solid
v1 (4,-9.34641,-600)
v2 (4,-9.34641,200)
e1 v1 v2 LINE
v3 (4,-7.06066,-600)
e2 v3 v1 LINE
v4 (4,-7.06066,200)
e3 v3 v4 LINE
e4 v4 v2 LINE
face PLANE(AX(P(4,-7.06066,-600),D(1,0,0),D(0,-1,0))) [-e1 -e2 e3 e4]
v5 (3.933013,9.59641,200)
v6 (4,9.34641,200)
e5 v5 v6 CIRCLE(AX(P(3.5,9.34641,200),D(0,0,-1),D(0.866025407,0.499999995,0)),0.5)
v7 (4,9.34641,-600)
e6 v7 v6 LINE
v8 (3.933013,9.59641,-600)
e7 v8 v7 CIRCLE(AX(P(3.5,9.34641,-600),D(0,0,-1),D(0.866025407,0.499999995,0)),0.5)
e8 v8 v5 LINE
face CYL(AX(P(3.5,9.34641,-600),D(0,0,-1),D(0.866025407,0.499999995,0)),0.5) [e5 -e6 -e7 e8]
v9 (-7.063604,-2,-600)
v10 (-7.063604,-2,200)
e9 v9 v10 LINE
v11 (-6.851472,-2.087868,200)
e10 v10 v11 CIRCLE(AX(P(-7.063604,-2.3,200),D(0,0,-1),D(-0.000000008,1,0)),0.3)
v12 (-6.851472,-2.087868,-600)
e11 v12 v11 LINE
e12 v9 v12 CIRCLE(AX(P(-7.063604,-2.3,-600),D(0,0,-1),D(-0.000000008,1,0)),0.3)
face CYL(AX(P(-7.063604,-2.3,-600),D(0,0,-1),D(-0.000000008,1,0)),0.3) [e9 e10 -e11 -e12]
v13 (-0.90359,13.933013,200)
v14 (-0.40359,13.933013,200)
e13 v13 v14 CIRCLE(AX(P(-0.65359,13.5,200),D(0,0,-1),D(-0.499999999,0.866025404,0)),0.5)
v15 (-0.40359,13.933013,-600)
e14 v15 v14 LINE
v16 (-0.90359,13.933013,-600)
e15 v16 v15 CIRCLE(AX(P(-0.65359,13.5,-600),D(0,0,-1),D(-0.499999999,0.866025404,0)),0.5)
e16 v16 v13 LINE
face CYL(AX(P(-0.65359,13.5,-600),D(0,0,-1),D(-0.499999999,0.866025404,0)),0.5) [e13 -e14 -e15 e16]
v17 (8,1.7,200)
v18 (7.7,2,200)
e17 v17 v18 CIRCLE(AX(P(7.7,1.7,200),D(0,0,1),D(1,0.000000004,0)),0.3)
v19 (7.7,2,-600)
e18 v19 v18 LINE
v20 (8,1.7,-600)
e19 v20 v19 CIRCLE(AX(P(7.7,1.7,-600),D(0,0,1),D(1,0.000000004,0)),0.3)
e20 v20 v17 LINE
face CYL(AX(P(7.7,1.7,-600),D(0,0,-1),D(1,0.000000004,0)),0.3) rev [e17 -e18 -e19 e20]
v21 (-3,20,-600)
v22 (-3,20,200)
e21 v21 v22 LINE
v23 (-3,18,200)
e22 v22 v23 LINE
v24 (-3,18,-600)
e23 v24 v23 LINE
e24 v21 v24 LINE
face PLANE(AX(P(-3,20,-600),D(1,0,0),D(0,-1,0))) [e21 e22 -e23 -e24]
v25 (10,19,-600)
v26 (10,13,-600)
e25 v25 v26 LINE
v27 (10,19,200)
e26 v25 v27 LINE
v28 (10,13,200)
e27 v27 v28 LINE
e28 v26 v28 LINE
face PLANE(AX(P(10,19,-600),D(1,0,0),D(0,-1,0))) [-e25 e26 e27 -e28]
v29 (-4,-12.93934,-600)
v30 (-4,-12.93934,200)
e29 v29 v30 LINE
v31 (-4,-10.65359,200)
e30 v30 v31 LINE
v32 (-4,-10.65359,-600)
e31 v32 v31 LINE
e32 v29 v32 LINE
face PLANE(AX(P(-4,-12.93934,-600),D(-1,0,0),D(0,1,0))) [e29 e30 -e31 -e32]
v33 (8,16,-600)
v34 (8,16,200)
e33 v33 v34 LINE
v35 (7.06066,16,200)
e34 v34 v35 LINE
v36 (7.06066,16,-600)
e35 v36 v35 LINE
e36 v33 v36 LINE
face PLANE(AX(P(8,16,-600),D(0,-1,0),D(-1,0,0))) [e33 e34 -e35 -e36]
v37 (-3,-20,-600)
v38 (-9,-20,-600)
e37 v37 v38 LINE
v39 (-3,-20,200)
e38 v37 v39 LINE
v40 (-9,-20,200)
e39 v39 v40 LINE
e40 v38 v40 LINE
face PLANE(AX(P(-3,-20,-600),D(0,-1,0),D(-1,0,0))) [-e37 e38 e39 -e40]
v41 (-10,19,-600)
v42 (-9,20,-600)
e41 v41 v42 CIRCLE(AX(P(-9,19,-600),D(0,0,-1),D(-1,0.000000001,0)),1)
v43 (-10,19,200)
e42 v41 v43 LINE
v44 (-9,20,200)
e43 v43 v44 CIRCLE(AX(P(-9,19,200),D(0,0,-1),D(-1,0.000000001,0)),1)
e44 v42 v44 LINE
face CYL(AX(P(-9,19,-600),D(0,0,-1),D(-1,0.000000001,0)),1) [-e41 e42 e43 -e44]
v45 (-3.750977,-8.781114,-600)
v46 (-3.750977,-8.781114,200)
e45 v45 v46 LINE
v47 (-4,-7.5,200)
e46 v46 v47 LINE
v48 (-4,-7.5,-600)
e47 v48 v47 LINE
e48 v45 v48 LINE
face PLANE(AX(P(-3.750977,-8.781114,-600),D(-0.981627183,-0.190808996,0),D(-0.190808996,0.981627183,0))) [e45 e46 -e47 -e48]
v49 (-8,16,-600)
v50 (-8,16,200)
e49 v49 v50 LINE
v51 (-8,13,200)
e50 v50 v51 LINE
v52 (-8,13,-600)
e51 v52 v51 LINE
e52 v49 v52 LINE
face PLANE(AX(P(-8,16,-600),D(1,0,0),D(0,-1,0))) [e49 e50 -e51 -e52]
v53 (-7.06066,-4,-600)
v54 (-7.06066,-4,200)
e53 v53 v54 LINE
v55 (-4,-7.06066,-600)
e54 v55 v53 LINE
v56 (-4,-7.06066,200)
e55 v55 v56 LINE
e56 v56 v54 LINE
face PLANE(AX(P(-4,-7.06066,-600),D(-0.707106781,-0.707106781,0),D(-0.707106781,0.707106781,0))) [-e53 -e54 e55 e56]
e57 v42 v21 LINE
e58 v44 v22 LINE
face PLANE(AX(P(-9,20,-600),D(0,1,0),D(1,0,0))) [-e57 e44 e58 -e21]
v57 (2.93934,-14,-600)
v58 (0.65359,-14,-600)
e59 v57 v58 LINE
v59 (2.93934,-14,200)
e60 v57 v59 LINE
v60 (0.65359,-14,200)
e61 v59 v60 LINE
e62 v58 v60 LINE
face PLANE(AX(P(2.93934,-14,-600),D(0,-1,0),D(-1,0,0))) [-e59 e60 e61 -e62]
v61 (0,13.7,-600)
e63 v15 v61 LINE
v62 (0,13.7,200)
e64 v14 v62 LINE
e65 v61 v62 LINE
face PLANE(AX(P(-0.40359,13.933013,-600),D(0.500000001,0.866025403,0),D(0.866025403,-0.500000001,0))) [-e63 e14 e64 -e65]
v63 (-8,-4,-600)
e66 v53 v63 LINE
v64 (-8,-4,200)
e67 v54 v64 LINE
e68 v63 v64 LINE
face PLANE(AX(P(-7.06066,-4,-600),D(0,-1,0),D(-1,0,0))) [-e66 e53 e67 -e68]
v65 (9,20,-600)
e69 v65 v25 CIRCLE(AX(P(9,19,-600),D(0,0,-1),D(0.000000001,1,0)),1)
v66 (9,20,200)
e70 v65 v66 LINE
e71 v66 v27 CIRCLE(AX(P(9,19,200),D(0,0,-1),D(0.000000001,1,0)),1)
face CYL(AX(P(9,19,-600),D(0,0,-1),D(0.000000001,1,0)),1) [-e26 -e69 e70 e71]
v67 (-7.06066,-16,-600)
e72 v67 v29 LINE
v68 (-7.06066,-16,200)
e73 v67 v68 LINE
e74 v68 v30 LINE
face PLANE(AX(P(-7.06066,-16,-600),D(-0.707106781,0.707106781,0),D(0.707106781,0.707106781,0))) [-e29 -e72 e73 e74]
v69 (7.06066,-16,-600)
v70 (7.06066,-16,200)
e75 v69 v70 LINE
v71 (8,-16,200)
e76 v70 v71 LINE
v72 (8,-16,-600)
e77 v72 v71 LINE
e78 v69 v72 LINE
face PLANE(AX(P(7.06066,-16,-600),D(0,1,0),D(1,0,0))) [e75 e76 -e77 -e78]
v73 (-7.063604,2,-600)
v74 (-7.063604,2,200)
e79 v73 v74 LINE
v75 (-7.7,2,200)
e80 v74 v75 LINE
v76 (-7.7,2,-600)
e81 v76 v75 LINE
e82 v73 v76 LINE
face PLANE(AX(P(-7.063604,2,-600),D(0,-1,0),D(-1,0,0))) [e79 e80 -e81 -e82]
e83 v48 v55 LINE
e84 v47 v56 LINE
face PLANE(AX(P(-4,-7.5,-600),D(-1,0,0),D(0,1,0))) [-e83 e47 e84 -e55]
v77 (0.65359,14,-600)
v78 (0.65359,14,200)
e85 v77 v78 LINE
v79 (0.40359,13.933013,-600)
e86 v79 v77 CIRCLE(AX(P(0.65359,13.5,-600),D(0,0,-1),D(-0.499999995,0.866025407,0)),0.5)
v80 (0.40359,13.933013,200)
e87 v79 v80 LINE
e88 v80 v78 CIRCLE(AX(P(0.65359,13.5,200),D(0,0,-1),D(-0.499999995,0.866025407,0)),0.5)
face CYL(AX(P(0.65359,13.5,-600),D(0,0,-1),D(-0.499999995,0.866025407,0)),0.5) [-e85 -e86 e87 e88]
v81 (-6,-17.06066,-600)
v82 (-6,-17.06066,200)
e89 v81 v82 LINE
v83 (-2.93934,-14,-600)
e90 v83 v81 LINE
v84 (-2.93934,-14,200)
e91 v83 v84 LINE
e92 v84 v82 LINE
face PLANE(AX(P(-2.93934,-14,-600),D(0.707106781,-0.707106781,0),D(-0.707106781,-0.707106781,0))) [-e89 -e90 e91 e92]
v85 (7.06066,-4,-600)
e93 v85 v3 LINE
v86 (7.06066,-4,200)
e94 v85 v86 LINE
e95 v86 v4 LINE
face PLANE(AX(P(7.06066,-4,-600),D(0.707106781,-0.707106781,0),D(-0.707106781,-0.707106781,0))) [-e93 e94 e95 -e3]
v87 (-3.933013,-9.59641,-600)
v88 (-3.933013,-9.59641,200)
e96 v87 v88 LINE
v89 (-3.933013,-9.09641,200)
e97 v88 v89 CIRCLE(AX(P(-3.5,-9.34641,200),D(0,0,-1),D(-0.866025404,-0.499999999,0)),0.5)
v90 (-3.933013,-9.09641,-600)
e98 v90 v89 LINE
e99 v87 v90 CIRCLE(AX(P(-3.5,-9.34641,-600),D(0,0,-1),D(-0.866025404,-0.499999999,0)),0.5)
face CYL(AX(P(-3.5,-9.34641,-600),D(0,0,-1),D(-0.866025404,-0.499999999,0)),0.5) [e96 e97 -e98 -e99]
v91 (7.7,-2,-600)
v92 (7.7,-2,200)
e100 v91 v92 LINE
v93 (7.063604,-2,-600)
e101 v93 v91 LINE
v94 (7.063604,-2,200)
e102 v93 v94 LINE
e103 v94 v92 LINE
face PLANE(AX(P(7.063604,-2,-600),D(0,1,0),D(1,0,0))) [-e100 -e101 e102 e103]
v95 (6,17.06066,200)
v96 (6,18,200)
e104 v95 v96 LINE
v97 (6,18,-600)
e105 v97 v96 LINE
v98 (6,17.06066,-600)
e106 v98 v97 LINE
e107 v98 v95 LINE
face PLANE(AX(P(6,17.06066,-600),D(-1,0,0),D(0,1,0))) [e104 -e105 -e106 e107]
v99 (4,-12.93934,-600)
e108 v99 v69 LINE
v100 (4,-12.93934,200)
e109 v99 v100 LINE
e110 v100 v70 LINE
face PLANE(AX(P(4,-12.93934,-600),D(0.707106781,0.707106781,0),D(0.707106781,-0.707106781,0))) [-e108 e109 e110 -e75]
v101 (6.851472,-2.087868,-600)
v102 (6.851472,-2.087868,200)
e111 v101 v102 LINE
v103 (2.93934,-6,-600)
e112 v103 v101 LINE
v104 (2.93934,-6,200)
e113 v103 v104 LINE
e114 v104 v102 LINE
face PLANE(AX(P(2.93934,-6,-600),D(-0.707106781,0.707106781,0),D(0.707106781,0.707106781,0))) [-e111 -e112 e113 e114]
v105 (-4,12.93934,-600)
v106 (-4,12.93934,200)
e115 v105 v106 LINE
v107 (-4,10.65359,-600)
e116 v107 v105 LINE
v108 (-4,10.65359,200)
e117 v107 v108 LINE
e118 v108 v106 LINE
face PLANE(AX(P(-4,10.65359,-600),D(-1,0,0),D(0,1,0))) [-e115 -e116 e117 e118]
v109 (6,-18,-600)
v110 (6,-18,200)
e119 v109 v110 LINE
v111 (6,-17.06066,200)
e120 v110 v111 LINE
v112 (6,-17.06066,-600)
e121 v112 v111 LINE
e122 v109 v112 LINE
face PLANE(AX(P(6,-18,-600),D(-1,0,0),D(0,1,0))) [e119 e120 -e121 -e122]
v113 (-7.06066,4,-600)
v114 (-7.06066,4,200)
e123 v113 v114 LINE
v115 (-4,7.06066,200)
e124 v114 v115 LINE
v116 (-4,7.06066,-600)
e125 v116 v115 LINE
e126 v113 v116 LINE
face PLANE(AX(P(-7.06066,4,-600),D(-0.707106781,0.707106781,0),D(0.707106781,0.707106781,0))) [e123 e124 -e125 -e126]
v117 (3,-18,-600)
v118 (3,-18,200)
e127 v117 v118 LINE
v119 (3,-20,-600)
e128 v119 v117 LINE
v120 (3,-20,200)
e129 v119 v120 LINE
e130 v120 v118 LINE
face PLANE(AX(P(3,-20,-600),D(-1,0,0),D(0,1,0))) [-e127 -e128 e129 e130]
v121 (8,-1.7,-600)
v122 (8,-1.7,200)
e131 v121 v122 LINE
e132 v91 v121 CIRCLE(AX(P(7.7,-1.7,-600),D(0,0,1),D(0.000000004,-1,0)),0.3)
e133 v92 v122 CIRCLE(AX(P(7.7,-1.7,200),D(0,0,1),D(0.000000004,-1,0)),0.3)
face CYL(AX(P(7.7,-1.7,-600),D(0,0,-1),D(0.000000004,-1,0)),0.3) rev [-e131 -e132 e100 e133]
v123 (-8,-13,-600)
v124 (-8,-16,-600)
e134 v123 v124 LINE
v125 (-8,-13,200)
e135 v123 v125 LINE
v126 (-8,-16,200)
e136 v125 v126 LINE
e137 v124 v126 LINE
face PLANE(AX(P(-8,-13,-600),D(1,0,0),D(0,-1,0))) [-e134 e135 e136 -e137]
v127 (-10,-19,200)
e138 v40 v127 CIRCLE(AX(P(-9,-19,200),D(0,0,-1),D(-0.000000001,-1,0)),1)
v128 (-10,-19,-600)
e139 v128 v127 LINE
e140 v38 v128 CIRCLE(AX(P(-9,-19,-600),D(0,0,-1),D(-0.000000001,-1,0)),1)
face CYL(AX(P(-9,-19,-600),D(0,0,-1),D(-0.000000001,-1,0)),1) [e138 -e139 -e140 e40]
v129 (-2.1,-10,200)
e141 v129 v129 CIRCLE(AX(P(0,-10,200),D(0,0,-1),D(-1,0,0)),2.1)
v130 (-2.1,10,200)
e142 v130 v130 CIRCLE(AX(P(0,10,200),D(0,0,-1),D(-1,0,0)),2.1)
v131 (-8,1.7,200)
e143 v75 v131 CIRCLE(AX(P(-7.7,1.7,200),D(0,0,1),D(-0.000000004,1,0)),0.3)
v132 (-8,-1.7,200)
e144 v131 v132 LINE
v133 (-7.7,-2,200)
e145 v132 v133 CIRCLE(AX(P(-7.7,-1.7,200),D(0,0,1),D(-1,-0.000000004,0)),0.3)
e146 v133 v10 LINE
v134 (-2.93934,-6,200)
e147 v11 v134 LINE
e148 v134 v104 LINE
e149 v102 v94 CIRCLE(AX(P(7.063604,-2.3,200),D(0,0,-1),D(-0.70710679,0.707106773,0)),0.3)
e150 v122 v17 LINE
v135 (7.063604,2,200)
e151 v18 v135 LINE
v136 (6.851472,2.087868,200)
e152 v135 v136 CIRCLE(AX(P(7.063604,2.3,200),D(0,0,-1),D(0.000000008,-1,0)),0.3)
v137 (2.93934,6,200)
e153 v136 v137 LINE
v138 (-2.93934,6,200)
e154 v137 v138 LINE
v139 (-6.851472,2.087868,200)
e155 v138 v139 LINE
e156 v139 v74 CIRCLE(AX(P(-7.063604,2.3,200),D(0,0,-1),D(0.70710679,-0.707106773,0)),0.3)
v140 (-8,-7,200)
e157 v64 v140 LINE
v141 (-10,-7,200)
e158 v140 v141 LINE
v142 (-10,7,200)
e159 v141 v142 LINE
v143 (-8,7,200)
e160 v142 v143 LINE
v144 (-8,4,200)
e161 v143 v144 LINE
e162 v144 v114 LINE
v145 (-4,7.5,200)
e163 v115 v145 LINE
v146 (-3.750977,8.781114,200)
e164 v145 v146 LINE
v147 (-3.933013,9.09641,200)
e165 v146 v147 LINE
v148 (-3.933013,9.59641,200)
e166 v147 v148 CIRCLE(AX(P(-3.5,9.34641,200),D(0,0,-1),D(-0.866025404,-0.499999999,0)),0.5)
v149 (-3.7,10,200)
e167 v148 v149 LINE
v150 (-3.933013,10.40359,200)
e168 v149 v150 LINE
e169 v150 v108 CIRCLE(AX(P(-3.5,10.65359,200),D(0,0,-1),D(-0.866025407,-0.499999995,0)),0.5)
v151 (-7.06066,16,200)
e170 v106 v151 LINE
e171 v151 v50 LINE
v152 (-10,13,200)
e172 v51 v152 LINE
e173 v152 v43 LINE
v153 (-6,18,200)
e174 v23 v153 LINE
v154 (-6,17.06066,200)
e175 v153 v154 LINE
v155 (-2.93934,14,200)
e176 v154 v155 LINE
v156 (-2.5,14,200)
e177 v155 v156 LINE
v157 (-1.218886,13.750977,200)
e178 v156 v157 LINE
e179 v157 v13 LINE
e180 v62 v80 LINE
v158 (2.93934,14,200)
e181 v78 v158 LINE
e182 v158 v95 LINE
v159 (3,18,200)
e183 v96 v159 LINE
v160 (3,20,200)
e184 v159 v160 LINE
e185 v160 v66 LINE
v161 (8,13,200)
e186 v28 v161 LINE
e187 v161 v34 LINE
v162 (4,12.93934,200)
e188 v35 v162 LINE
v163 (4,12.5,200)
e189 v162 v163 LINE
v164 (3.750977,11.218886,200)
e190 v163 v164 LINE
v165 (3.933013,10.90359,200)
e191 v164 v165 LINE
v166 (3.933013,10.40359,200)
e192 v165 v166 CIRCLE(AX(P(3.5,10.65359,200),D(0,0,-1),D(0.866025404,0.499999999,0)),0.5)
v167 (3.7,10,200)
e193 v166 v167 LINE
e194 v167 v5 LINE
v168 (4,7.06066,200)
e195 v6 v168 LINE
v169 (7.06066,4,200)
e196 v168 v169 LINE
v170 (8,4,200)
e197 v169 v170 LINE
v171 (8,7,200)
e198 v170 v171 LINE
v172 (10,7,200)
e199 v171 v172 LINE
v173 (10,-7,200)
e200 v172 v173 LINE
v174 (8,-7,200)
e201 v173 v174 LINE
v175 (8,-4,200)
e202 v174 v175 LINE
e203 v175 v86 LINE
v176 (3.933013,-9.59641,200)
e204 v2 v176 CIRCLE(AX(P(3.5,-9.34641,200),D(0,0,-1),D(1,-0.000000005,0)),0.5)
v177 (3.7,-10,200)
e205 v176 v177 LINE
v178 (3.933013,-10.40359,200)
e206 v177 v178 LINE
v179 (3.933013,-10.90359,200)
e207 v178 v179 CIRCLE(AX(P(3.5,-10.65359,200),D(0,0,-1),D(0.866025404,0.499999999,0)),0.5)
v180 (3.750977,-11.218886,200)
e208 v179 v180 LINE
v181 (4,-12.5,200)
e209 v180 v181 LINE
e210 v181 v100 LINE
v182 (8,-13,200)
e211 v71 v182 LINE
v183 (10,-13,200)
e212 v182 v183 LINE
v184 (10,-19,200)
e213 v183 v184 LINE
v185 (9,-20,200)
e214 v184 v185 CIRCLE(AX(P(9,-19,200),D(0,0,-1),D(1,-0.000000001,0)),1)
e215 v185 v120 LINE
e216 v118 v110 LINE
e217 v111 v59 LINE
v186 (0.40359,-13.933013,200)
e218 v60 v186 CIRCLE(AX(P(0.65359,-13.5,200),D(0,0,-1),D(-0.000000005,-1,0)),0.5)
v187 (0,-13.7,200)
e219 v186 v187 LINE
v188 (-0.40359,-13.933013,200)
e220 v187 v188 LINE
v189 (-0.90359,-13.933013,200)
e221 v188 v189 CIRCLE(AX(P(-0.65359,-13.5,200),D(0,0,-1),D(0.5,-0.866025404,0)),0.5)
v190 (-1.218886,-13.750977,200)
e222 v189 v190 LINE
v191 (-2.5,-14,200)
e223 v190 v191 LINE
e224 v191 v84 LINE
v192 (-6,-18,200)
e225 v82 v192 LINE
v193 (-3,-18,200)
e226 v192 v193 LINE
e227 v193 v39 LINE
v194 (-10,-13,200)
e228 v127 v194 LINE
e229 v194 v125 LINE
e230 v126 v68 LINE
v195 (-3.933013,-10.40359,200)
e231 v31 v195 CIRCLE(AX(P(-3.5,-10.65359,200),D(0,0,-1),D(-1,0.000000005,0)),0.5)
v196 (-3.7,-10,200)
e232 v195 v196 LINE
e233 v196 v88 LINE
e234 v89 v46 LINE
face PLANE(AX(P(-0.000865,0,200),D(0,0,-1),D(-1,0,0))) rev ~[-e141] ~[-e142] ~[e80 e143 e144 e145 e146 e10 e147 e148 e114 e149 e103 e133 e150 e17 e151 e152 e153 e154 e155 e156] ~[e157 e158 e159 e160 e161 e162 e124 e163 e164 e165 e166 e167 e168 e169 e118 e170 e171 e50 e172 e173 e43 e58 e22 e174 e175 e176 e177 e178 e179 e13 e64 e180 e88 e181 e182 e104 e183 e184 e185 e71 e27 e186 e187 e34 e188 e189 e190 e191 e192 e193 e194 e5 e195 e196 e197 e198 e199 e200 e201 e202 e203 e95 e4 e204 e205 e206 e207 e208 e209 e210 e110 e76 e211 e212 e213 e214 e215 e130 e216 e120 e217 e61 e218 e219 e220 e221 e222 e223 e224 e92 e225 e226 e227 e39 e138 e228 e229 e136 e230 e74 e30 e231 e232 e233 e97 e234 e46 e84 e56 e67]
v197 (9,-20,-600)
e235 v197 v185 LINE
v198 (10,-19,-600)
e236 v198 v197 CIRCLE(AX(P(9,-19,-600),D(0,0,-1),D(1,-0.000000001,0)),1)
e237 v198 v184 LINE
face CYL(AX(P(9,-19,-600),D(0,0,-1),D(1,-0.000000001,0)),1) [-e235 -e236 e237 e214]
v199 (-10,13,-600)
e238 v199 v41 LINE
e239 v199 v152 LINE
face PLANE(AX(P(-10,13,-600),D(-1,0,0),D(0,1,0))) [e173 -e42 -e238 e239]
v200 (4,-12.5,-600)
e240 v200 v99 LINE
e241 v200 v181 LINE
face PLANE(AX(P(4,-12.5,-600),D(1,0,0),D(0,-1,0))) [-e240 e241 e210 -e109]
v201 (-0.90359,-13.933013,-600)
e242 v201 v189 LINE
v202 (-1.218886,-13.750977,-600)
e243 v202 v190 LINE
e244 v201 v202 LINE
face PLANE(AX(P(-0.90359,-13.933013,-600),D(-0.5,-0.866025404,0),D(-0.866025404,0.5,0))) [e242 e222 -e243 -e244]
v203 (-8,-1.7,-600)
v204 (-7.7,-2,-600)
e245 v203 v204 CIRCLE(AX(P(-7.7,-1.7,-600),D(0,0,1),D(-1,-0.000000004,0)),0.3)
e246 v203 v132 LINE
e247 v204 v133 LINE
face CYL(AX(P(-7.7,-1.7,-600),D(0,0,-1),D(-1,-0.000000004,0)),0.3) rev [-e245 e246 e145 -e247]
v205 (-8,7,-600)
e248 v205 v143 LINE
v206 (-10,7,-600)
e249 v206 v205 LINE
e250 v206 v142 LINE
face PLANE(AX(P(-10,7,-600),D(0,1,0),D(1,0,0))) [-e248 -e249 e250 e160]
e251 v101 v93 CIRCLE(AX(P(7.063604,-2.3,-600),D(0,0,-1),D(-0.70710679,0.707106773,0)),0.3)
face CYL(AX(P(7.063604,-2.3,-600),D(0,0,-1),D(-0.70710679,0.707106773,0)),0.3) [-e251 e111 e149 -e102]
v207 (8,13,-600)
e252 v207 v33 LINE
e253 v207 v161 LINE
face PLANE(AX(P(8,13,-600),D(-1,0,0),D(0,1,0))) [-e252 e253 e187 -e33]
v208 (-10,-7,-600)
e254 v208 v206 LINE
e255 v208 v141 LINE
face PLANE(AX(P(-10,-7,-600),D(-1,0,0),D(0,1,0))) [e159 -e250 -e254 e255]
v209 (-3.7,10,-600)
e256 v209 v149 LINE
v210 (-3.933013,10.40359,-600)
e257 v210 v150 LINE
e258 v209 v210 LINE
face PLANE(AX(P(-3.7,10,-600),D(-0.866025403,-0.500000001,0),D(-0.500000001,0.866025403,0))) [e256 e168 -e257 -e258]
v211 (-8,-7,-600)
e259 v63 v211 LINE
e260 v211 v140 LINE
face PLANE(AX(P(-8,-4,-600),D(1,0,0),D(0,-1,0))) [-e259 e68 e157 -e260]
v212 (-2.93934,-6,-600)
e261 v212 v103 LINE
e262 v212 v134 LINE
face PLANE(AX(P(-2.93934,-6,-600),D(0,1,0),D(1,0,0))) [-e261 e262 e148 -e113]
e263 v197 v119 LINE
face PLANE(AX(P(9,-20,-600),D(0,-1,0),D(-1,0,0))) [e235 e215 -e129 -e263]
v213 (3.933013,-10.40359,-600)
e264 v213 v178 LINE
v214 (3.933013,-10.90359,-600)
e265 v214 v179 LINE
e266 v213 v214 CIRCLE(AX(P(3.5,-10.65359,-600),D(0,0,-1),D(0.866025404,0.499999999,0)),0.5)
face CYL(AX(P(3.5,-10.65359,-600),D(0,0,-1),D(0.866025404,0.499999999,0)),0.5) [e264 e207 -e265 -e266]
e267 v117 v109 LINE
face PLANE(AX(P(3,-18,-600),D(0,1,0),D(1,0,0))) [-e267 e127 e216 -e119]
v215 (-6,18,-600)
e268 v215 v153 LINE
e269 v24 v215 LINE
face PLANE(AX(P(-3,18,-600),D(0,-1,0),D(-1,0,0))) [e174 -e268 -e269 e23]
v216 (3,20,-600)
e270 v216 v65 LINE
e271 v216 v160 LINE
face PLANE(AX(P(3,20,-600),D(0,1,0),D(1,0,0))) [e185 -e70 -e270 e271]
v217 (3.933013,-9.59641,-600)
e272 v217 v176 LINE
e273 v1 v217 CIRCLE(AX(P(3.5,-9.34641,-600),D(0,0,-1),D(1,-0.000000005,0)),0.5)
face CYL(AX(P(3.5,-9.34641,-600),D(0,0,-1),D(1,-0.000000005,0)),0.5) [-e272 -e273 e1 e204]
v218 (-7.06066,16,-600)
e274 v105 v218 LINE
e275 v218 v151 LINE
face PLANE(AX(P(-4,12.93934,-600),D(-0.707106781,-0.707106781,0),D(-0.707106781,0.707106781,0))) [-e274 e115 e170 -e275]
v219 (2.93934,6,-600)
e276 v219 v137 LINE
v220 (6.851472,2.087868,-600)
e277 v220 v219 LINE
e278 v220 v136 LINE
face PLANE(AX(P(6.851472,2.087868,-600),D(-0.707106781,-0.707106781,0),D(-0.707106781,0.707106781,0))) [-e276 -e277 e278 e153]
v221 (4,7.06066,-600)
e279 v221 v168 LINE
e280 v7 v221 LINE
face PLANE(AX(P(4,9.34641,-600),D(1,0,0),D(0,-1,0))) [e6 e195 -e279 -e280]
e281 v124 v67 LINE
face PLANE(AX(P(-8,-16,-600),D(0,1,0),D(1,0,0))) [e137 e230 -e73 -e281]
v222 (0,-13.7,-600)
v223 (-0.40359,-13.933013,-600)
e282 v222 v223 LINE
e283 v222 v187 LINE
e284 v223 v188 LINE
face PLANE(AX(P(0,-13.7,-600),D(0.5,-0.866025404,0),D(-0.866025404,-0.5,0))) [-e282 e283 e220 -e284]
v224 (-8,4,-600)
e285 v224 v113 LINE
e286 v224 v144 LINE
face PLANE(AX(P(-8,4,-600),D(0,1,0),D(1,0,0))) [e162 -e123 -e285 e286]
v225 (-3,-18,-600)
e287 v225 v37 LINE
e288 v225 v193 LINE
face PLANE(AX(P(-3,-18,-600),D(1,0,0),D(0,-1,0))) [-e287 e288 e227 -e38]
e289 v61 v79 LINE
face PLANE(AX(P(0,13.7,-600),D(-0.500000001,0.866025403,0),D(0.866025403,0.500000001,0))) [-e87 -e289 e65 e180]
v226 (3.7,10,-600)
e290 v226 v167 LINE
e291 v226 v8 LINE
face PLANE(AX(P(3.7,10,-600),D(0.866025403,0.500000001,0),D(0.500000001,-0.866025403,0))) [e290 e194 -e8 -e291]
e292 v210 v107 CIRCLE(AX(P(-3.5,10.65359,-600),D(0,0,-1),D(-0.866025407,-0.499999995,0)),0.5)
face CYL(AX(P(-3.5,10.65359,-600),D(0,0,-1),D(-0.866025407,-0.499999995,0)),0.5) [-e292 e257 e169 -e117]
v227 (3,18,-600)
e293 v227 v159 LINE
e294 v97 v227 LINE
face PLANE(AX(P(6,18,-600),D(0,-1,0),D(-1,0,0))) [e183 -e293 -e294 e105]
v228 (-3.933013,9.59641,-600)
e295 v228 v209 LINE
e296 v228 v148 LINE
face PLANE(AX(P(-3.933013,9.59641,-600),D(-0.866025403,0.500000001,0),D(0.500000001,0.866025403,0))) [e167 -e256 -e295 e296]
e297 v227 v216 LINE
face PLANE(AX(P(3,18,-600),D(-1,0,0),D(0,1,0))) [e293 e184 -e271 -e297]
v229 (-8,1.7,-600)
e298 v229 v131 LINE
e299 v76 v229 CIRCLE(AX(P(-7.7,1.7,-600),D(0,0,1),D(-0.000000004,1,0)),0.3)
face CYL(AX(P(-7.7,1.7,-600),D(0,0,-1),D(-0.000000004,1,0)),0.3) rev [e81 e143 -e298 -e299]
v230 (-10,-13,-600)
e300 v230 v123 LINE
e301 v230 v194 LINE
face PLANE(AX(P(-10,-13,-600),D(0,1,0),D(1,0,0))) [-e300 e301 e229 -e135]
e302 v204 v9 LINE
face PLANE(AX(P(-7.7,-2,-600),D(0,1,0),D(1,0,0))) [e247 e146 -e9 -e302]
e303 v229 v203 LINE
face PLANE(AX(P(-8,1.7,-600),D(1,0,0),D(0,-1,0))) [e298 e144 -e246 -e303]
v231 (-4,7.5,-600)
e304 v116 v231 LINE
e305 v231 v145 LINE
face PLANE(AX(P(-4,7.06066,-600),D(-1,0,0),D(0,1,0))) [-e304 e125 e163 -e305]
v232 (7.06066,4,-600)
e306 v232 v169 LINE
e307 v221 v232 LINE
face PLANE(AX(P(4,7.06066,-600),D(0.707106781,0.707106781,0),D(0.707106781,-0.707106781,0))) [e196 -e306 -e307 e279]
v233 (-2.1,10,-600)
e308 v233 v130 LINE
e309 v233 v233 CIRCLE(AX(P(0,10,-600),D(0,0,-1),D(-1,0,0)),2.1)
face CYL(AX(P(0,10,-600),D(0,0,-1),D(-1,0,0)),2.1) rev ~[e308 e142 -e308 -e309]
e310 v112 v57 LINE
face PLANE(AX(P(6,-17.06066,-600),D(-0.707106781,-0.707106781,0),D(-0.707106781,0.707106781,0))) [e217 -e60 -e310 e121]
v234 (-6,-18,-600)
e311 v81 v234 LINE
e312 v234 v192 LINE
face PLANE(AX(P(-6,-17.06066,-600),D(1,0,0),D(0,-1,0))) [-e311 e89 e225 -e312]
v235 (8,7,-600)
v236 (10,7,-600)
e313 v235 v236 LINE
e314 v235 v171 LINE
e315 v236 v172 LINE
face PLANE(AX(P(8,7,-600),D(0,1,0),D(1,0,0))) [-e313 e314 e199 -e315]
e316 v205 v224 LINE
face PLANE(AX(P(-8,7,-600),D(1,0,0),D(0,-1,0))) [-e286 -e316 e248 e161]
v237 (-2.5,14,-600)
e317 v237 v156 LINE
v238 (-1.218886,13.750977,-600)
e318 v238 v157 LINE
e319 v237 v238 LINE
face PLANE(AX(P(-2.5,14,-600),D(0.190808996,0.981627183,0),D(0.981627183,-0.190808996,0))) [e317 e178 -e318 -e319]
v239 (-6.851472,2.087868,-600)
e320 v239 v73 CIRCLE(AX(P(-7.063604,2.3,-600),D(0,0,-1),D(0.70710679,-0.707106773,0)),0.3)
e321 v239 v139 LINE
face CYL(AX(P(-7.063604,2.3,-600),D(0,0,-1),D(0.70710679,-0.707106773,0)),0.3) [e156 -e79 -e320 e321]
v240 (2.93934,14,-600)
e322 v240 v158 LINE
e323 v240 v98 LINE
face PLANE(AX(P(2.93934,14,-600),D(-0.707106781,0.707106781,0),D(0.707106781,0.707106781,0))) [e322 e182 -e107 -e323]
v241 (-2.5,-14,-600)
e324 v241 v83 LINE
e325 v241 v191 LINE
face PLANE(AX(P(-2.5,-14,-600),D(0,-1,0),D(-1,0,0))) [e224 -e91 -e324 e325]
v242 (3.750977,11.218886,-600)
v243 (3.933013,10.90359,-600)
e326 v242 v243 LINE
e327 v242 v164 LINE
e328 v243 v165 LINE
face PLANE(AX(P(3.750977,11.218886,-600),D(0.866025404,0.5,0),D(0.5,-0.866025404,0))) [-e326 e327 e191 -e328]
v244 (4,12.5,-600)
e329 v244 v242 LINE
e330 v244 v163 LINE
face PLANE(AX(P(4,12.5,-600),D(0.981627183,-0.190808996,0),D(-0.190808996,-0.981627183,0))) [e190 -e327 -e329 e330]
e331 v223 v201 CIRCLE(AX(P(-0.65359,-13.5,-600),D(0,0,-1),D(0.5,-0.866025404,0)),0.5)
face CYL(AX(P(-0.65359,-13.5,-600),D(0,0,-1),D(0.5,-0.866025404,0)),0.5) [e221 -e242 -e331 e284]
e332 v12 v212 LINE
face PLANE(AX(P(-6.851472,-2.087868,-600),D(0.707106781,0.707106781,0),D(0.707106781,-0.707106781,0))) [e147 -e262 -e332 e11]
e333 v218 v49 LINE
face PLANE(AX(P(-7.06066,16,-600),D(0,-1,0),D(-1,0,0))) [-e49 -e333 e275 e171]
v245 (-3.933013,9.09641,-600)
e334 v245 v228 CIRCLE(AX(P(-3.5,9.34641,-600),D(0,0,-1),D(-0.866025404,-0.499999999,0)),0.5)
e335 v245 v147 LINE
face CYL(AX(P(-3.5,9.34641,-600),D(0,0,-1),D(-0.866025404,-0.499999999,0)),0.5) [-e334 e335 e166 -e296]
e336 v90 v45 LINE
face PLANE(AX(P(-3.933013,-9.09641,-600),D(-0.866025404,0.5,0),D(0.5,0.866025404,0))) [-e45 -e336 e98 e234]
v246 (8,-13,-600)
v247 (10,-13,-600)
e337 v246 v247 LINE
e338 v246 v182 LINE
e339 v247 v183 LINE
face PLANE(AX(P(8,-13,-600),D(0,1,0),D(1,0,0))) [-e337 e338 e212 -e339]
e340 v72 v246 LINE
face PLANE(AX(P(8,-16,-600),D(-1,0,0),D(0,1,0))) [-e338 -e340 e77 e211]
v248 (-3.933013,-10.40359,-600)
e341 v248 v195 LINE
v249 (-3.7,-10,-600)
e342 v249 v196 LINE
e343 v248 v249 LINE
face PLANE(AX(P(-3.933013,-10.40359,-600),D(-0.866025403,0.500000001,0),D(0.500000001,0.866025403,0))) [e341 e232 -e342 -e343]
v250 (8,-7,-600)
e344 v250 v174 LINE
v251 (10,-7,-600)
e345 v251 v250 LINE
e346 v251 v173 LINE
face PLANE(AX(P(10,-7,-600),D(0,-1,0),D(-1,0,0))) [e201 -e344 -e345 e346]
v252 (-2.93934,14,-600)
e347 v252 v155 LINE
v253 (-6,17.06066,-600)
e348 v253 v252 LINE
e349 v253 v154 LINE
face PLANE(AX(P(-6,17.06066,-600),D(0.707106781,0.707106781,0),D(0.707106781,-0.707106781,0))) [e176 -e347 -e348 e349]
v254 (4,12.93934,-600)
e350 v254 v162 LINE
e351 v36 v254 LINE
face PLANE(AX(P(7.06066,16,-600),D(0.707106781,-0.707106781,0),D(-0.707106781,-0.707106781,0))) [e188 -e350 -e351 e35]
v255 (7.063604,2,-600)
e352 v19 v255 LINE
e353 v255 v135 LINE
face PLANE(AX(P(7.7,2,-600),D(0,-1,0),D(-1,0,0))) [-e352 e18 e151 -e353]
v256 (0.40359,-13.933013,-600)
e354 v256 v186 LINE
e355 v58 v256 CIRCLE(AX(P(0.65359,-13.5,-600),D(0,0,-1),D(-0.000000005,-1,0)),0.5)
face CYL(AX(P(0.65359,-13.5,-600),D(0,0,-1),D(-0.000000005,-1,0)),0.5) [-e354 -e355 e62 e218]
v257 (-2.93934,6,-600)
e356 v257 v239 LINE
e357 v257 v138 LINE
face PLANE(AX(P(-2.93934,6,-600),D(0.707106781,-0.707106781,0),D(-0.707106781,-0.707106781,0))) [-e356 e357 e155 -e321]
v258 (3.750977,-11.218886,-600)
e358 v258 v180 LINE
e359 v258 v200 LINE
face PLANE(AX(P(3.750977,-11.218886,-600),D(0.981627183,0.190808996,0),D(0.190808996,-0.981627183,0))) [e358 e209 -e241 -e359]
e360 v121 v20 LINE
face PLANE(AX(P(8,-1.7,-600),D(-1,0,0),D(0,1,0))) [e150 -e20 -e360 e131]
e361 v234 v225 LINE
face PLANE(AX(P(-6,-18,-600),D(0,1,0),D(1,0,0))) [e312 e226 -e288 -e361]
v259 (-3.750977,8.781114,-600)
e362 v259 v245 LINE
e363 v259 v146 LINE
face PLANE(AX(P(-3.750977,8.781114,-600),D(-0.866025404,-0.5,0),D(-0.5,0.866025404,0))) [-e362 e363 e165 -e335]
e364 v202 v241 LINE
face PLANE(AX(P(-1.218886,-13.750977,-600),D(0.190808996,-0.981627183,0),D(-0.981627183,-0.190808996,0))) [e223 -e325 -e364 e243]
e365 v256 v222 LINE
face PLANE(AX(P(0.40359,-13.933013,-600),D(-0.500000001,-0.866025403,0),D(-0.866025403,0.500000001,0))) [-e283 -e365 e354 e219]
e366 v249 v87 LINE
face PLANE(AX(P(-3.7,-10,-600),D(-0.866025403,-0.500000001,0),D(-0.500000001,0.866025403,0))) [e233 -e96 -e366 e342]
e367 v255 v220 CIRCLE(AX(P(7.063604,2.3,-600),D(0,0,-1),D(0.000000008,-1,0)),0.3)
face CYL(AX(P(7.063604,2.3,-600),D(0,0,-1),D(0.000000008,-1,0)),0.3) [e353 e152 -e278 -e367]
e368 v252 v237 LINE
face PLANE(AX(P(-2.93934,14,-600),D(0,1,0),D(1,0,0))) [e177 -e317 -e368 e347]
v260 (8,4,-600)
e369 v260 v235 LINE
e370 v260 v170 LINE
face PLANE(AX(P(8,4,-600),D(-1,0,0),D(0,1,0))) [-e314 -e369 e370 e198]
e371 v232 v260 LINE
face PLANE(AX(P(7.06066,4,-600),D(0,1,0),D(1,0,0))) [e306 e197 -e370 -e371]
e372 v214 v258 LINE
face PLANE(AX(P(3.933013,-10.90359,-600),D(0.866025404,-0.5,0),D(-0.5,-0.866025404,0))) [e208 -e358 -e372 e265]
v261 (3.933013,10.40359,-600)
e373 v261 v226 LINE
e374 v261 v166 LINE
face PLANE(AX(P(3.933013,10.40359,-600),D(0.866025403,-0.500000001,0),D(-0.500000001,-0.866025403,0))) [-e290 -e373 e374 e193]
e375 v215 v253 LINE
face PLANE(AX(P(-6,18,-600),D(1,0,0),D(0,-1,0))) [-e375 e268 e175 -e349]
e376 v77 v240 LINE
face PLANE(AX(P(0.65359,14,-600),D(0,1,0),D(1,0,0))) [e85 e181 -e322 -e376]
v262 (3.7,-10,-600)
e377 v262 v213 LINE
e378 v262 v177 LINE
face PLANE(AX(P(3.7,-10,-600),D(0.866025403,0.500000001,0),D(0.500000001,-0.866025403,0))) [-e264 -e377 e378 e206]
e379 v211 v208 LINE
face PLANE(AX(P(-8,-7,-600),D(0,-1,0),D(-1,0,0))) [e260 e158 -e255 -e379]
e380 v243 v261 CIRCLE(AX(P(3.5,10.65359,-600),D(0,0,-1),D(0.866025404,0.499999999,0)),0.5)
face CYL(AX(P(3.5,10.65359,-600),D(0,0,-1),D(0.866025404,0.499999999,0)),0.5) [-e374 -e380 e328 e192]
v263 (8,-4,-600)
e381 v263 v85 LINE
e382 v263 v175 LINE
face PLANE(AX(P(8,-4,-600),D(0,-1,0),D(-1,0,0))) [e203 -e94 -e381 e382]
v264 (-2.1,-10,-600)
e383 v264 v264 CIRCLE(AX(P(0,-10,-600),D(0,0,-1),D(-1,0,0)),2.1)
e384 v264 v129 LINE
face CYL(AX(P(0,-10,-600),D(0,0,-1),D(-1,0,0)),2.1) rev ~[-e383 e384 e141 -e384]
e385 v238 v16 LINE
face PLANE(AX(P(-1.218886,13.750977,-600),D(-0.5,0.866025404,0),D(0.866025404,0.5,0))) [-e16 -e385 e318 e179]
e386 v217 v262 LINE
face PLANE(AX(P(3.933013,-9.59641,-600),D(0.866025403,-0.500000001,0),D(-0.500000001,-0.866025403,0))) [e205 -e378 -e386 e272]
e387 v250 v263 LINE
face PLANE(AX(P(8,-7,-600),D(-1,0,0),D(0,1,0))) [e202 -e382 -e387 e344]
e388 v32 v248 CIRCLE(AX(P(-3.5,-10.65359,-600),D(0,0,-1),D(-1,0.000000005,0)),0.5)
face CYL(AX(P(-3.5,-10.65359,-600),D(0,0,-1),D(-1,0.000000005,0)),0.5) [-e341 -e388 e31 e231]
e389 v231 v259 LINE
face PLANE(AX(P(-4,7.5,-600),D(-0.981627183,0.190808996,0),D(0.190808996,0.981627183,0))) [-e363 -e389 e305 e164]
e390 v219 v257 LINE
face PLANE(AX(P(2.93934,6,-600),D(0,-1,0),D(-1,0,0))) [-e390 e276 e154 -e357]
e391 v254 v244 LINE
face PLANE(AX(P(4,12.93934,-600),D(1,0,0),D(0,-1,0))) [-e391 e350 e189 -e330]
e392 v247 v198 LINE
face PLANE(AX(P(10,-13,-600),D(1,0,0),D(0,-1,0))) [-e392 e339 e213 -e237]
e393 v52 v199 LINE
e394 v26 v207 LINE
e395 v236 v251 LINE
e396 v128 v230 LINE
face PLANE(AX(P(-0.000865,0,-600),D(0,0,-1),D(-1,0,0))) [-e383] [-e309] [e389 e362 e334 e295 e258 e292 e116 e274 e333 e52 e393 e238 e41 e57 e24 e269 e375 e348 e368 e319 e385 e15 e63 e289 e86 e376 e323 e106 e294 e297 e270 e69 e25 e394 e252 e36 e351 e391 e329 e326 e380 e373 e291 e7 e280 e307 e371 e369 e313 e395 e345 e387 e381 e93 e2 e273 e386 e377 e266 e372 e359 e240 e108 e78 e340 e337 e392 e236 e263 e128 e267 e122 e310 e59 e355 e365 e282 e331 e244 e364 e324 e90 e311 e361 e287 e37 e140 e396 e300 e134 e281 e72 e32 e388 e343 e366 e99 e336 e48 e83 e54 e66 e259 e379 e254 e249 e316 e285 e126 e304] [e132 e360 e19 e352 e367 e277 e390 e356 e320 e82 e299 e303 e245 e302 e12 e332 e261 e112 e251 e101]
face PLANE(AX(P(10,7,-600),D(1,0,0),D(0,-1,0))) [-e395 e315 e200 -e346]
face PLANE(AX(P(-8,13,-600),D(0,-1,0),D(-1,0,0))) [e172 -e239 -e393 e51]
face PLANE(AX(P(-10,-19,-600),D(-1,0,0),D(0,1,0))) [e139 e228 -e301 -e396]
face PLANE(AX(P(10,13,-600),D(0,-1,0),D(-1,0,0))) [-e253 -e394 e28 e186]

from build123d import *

# Parameters (mm, degrees)
SKETCH1_R           = 2.1
BOSS_EXTRUDE1_DEPTH = 800


with BuildPart() as part:
    # Sketch1 → Boss-Extrude1 (new body)
    with BuildSketch(Plane(origin=(0, 0, -600), x_dir=(-1, 0, 0), z_dir=(0, 0, -1))):
        with BuildLine():
            Line((10, -7), (10, 7))
            Line((10, 7), (8, 7))
            Line((8, 7), (8, 4))
            Line((8, 4), (7.060660172, 4))
            Line((7.060660172, 4), (4, 7.060660172))
            Line((4, 7.060660172), (4, 7.5))
            Line((4, 7.5), (3.750976592, 8.781114371))
            Line((3.750976592, 8.781114371), (3.933012702, 9.096410162))
            ThreePointArc((3.933012702, 9.096410162), (4, 9.346410162), (3.933012702, 9.596410162))
            Line((3.933012702, 9.596410162), (3.7, 10))
            Line((3.7, 10), (3.933012702, 10.403589838))
            ThreePointArc((3.933012702, 10.403589838), (3.982962913, 10.524180316), (4, 10.653589838))
            Line((4, 10.653589838), (4, 12.939339828))
            Line((4, 12.939339828), (7.060660172, 16))
            Line((7.060660172, 16), (8, 16))
            Line((8, 16), (8, 13))
            Line((8, 13), (10, 13))
            Line((10, 13), (10, 19))
            ThreePointArc((10, 19), (9.707106781, 19.707106781), (9, 20))
            Line((9, 20), (3, 20))
            Line((3, 20), (3, 18))
            Line((3, 18), (6, 18))
            Line((6, 18), (6, 17.060660172))
            Line((6, 17.060660172), (2.939339828, 14))
            Line((2.939339828, 14), (2.5, 14))
            Line((2.5, 14), (1.218885629, 13.750976592))
            Line((1.218885629, 13.750976592), (0.903589838, 13.933012702))
            ThreePointArc((0.903589838, 13.933012702), (0.653589838, 14), (0.403589838, 13.933012702))
            Line((0.403589838, 13.933012702), (0, 13.7))
            Line((0, 13.7), (-0.403589838, 13.933012702))
            ThreePointArc((-0.403589838, 13.933012702), (-0.524180316, 13.982962913), (-0.653589838, 14))
            Line((-0.653589838, 14), (-2.939339828, 14))
            Line((-2.939339828, 14), (-6, 17.060660172))
            Line((-6, 17.060660172), (-6, 18))
            Line((-6, 18), (-3, 18))
            Line((-3, 18), (-3, 20))
            Line((-3, 20), (-9, 20))
            ThreePointArc((-9, 20), (-9.707106781, 19.707106781), (-10, 19))
            Line((-10, 19), (-10, 13))
            Line((-10, 13), (-8, 13))
            Line((-8, 13), (-8, 16))
            Line((-8, 16), (-7.060660172, 16))
            Line((-7.060660172, 16), (-4, 12.939339828))
            Line((-4, 12.939339828), (-4, 12.5))
            Line((-4, 12.5), (-3.750976592, 11.218885629))
            Line((-3.750976592, 11.218885629), (-3.933012702, 10.903589838))
            ThreePointArc((-3.933012702, 10.903589838), (-4, 10.653589838), (-3.933012702, 10.403589838))
            Line((-3.933012702, 10.403589838), (-3.7, 10))
            Line((-3.7, 10), (-3.933012702, 9.596410162))
            ThreePointArc((-3.933012702, 9.596410162), (-3.982962913, 9.475819684), (-4, 9.346410162))
            Line((-4, 9.346410162), (-4, 7.060660172))
            Line((-4, 7.060660172), (-7.060660172, 4))
            Line((-7.060660172, 4), (-8, 4))
            Line((-8, 4), (-8, 7))
            Line((-8, 7), (-10, 7))
            Line((-10, 7), (-10, -7))
            Line((-10, -7), (-8, -7))
            Line((-8, -7), (-8, -4))
            Line((-8, -4), (-7.060660172, -4))
            Line((-7.060660172, -4), (-4, -7.060660172))
            Line((-4, -7.060660172), (-4, -9.346410162))
            ThreePointArc((-4, -9.346410162), (-3.982962913, -9.475819684), (-3.933012702, -9.596410162))
            Line((-3.933012702, -9.596410162), (-3.7, -10))
            Line((-3.7, -10), (-3.933012702, -10.403589838))
            ThreePointArc((-3.933012702, -10.403589838), (-4, -10.653589838), (-3.933012702, -10.903589838))
            Line((-3.933012702, -10.903589838), (-3.750976592, -11.218885629))
            Line((-3.750976592, -11.218885629), (-4, -12.5))
            Line((-4, -12.5), (-4, -12.939339828))
            Line((-4, -12.939339828), (-7.060660172, -16))
            Line((-7.060660172, -16), (-8, -16))
            Line((-8, -16), (-8, -13))
            Line((-8, -13), (-10, -13))
            Line((-10, -13), (-10, -19))
            ThreePointArc((-10, -19), (-9.707106781, -19.707106781), (-9, -20))
            Line((-9, -20), (-3, -20))
            Line((-3, -20), (-3, -18))
            Line((-3, -18), (-6, -18))
            Line((-6, -18), (-6, -17.060660172))
            Line((-6, -17.060660172), (-2.939339828, -14))
            Line((-2.939339828, -14), (-0.653589838, -14))
            ThreePointArc((-0.653589838, -14), (-0.524180316, -13.982962913), (-0.403589838, -13.933012702))
            Line((-0.403589838, -13.933012702), (0, -13.7))
            Line((0, -13.7), (0.403589839, -13.933012702))
            ThreePointArc((0.403589839, -13.933012702), (0.653589839, -14), (0.903589838, -13.933012702))
            Line((0.903589838, -13.933012702), (1.218885629, -13.750976592))
            Line((1.218885629, -13.750976592), (2.5, -14))
            Line((2.5, -14), (2.939339828, -14))
            Line((2.939339828, -14), (6, -17.060660172))
            Line((6, -17.060660172), (6, -18))
            Line((6, -18), (3, -18))
            Line((3, -18), (3, -20))
            Line((3, -20), (9, -20))
            ThreePointArc((9, -20), (9.707106781, -19.707106781), (10, -19))
            Line((10, -19), (10, -13))
            Line((10, -13), (8, -13))
            Line((8, -13), (8, -16))
            Line((8, -16), (7.060660172, -16))
            Line((7.060660172, -16), (4, -12.939339828))
            Line((4, -12.939339828), (4, -10.653589838))
            ThreePointArc((4, -10.653589838), (3.982962913, -10.524180316), (3.933012702, -10.403589838))
            Line((3.933012702, -10.403589838), (3.7, -10))
            Line((3.7, -10), (3.933012702, -9.596410162))
            ThreePointArc((3.933012702, -9.596410162), (4, -9.346410162), (3.933012702, -9.096410162))
            Line((3.933012702, -9.096410162), (3.750976592, -8.781114371))
            Line((3.750976592, -8.781114371), (4, -7.5))
            Line((4, -7.5), (4, -7.060660172))
            Line((4, -7.060660172), (7.060660172, -4))
            Line((7.060660172, -4), (8, -4))
            Line((8, -4), (8, -7))
            Line((8, -7), (10, -7))
        make_face()
        with Locations((0, -10)):
            Circle(SKETCH1_R, mode=Mode.SUBTRACT)
        with Locations((0, 10)):
            Circle(SKETCH1_R, mode=Mode.SUBTRACT)
        with BuildLine():
            Line((8, 1.7), (8, -1.7))
            ThreePointArc((8, -1.7), (7.912132034, -1.912132034), (7.7, -2))
            Line((7.7, -2), (7.063603897, -2))
            ThreePointArc((7.063603897, -2), (6.948798867, -2.02283614), (6.851471863, -2.087867966))
            Line((6.851471863, -2.087867966), (2.939339828, -6))
            Line((2.939339828, -6), (-2.939339828, -6))
            Line((-2.939339828, -6), (-6.851471863, -2.087867966))
            ThreePointArc((-6.851471863, -2.087867966), (-6.948798867, -2.02283614), (-7.063603897, -2))
            Line((-7.063603897, -2), (-7.7, -2))
            ThreePointArc((-7.7, -2), (-7.912132034, -1.912132034), (-8, -1.7))
            Line((-8, -1.7), (-8, 1.7))
            ThreePointArc((-8, 1.7), (-7.912132034, 1.912132034), (-7.7, 2))
            Line((-7.7, 2), (-7.063603897, 2))
            ThreePointArc((-7.063603897, 2), (-6.948798867, 2.02283614), (-6.851471863, 2.087867966))
            Line((-6.851471863, 2.087867966), (-2.939339828, 6))
            Line((-2.939339828, 6), (2.939339828, 6))
            Line((2.939339828, 6), (6.851471863, 2.087867966))
            ThreePointArc((6.851471863, 2.087867966), (6.948798867, 2.02283614), (7.063603897, 2))
            Line((7.063603897, 2), (7.7, 2))
            ThreePointArc((7.7, 2), (7.912132034, 1.912132034), (8, 1.7))
        make_face(mode=Mode.SUBTRACT)
    extrude(amount=-BOSS_EXTRUDE1_DEPTH)


solid = part.part
